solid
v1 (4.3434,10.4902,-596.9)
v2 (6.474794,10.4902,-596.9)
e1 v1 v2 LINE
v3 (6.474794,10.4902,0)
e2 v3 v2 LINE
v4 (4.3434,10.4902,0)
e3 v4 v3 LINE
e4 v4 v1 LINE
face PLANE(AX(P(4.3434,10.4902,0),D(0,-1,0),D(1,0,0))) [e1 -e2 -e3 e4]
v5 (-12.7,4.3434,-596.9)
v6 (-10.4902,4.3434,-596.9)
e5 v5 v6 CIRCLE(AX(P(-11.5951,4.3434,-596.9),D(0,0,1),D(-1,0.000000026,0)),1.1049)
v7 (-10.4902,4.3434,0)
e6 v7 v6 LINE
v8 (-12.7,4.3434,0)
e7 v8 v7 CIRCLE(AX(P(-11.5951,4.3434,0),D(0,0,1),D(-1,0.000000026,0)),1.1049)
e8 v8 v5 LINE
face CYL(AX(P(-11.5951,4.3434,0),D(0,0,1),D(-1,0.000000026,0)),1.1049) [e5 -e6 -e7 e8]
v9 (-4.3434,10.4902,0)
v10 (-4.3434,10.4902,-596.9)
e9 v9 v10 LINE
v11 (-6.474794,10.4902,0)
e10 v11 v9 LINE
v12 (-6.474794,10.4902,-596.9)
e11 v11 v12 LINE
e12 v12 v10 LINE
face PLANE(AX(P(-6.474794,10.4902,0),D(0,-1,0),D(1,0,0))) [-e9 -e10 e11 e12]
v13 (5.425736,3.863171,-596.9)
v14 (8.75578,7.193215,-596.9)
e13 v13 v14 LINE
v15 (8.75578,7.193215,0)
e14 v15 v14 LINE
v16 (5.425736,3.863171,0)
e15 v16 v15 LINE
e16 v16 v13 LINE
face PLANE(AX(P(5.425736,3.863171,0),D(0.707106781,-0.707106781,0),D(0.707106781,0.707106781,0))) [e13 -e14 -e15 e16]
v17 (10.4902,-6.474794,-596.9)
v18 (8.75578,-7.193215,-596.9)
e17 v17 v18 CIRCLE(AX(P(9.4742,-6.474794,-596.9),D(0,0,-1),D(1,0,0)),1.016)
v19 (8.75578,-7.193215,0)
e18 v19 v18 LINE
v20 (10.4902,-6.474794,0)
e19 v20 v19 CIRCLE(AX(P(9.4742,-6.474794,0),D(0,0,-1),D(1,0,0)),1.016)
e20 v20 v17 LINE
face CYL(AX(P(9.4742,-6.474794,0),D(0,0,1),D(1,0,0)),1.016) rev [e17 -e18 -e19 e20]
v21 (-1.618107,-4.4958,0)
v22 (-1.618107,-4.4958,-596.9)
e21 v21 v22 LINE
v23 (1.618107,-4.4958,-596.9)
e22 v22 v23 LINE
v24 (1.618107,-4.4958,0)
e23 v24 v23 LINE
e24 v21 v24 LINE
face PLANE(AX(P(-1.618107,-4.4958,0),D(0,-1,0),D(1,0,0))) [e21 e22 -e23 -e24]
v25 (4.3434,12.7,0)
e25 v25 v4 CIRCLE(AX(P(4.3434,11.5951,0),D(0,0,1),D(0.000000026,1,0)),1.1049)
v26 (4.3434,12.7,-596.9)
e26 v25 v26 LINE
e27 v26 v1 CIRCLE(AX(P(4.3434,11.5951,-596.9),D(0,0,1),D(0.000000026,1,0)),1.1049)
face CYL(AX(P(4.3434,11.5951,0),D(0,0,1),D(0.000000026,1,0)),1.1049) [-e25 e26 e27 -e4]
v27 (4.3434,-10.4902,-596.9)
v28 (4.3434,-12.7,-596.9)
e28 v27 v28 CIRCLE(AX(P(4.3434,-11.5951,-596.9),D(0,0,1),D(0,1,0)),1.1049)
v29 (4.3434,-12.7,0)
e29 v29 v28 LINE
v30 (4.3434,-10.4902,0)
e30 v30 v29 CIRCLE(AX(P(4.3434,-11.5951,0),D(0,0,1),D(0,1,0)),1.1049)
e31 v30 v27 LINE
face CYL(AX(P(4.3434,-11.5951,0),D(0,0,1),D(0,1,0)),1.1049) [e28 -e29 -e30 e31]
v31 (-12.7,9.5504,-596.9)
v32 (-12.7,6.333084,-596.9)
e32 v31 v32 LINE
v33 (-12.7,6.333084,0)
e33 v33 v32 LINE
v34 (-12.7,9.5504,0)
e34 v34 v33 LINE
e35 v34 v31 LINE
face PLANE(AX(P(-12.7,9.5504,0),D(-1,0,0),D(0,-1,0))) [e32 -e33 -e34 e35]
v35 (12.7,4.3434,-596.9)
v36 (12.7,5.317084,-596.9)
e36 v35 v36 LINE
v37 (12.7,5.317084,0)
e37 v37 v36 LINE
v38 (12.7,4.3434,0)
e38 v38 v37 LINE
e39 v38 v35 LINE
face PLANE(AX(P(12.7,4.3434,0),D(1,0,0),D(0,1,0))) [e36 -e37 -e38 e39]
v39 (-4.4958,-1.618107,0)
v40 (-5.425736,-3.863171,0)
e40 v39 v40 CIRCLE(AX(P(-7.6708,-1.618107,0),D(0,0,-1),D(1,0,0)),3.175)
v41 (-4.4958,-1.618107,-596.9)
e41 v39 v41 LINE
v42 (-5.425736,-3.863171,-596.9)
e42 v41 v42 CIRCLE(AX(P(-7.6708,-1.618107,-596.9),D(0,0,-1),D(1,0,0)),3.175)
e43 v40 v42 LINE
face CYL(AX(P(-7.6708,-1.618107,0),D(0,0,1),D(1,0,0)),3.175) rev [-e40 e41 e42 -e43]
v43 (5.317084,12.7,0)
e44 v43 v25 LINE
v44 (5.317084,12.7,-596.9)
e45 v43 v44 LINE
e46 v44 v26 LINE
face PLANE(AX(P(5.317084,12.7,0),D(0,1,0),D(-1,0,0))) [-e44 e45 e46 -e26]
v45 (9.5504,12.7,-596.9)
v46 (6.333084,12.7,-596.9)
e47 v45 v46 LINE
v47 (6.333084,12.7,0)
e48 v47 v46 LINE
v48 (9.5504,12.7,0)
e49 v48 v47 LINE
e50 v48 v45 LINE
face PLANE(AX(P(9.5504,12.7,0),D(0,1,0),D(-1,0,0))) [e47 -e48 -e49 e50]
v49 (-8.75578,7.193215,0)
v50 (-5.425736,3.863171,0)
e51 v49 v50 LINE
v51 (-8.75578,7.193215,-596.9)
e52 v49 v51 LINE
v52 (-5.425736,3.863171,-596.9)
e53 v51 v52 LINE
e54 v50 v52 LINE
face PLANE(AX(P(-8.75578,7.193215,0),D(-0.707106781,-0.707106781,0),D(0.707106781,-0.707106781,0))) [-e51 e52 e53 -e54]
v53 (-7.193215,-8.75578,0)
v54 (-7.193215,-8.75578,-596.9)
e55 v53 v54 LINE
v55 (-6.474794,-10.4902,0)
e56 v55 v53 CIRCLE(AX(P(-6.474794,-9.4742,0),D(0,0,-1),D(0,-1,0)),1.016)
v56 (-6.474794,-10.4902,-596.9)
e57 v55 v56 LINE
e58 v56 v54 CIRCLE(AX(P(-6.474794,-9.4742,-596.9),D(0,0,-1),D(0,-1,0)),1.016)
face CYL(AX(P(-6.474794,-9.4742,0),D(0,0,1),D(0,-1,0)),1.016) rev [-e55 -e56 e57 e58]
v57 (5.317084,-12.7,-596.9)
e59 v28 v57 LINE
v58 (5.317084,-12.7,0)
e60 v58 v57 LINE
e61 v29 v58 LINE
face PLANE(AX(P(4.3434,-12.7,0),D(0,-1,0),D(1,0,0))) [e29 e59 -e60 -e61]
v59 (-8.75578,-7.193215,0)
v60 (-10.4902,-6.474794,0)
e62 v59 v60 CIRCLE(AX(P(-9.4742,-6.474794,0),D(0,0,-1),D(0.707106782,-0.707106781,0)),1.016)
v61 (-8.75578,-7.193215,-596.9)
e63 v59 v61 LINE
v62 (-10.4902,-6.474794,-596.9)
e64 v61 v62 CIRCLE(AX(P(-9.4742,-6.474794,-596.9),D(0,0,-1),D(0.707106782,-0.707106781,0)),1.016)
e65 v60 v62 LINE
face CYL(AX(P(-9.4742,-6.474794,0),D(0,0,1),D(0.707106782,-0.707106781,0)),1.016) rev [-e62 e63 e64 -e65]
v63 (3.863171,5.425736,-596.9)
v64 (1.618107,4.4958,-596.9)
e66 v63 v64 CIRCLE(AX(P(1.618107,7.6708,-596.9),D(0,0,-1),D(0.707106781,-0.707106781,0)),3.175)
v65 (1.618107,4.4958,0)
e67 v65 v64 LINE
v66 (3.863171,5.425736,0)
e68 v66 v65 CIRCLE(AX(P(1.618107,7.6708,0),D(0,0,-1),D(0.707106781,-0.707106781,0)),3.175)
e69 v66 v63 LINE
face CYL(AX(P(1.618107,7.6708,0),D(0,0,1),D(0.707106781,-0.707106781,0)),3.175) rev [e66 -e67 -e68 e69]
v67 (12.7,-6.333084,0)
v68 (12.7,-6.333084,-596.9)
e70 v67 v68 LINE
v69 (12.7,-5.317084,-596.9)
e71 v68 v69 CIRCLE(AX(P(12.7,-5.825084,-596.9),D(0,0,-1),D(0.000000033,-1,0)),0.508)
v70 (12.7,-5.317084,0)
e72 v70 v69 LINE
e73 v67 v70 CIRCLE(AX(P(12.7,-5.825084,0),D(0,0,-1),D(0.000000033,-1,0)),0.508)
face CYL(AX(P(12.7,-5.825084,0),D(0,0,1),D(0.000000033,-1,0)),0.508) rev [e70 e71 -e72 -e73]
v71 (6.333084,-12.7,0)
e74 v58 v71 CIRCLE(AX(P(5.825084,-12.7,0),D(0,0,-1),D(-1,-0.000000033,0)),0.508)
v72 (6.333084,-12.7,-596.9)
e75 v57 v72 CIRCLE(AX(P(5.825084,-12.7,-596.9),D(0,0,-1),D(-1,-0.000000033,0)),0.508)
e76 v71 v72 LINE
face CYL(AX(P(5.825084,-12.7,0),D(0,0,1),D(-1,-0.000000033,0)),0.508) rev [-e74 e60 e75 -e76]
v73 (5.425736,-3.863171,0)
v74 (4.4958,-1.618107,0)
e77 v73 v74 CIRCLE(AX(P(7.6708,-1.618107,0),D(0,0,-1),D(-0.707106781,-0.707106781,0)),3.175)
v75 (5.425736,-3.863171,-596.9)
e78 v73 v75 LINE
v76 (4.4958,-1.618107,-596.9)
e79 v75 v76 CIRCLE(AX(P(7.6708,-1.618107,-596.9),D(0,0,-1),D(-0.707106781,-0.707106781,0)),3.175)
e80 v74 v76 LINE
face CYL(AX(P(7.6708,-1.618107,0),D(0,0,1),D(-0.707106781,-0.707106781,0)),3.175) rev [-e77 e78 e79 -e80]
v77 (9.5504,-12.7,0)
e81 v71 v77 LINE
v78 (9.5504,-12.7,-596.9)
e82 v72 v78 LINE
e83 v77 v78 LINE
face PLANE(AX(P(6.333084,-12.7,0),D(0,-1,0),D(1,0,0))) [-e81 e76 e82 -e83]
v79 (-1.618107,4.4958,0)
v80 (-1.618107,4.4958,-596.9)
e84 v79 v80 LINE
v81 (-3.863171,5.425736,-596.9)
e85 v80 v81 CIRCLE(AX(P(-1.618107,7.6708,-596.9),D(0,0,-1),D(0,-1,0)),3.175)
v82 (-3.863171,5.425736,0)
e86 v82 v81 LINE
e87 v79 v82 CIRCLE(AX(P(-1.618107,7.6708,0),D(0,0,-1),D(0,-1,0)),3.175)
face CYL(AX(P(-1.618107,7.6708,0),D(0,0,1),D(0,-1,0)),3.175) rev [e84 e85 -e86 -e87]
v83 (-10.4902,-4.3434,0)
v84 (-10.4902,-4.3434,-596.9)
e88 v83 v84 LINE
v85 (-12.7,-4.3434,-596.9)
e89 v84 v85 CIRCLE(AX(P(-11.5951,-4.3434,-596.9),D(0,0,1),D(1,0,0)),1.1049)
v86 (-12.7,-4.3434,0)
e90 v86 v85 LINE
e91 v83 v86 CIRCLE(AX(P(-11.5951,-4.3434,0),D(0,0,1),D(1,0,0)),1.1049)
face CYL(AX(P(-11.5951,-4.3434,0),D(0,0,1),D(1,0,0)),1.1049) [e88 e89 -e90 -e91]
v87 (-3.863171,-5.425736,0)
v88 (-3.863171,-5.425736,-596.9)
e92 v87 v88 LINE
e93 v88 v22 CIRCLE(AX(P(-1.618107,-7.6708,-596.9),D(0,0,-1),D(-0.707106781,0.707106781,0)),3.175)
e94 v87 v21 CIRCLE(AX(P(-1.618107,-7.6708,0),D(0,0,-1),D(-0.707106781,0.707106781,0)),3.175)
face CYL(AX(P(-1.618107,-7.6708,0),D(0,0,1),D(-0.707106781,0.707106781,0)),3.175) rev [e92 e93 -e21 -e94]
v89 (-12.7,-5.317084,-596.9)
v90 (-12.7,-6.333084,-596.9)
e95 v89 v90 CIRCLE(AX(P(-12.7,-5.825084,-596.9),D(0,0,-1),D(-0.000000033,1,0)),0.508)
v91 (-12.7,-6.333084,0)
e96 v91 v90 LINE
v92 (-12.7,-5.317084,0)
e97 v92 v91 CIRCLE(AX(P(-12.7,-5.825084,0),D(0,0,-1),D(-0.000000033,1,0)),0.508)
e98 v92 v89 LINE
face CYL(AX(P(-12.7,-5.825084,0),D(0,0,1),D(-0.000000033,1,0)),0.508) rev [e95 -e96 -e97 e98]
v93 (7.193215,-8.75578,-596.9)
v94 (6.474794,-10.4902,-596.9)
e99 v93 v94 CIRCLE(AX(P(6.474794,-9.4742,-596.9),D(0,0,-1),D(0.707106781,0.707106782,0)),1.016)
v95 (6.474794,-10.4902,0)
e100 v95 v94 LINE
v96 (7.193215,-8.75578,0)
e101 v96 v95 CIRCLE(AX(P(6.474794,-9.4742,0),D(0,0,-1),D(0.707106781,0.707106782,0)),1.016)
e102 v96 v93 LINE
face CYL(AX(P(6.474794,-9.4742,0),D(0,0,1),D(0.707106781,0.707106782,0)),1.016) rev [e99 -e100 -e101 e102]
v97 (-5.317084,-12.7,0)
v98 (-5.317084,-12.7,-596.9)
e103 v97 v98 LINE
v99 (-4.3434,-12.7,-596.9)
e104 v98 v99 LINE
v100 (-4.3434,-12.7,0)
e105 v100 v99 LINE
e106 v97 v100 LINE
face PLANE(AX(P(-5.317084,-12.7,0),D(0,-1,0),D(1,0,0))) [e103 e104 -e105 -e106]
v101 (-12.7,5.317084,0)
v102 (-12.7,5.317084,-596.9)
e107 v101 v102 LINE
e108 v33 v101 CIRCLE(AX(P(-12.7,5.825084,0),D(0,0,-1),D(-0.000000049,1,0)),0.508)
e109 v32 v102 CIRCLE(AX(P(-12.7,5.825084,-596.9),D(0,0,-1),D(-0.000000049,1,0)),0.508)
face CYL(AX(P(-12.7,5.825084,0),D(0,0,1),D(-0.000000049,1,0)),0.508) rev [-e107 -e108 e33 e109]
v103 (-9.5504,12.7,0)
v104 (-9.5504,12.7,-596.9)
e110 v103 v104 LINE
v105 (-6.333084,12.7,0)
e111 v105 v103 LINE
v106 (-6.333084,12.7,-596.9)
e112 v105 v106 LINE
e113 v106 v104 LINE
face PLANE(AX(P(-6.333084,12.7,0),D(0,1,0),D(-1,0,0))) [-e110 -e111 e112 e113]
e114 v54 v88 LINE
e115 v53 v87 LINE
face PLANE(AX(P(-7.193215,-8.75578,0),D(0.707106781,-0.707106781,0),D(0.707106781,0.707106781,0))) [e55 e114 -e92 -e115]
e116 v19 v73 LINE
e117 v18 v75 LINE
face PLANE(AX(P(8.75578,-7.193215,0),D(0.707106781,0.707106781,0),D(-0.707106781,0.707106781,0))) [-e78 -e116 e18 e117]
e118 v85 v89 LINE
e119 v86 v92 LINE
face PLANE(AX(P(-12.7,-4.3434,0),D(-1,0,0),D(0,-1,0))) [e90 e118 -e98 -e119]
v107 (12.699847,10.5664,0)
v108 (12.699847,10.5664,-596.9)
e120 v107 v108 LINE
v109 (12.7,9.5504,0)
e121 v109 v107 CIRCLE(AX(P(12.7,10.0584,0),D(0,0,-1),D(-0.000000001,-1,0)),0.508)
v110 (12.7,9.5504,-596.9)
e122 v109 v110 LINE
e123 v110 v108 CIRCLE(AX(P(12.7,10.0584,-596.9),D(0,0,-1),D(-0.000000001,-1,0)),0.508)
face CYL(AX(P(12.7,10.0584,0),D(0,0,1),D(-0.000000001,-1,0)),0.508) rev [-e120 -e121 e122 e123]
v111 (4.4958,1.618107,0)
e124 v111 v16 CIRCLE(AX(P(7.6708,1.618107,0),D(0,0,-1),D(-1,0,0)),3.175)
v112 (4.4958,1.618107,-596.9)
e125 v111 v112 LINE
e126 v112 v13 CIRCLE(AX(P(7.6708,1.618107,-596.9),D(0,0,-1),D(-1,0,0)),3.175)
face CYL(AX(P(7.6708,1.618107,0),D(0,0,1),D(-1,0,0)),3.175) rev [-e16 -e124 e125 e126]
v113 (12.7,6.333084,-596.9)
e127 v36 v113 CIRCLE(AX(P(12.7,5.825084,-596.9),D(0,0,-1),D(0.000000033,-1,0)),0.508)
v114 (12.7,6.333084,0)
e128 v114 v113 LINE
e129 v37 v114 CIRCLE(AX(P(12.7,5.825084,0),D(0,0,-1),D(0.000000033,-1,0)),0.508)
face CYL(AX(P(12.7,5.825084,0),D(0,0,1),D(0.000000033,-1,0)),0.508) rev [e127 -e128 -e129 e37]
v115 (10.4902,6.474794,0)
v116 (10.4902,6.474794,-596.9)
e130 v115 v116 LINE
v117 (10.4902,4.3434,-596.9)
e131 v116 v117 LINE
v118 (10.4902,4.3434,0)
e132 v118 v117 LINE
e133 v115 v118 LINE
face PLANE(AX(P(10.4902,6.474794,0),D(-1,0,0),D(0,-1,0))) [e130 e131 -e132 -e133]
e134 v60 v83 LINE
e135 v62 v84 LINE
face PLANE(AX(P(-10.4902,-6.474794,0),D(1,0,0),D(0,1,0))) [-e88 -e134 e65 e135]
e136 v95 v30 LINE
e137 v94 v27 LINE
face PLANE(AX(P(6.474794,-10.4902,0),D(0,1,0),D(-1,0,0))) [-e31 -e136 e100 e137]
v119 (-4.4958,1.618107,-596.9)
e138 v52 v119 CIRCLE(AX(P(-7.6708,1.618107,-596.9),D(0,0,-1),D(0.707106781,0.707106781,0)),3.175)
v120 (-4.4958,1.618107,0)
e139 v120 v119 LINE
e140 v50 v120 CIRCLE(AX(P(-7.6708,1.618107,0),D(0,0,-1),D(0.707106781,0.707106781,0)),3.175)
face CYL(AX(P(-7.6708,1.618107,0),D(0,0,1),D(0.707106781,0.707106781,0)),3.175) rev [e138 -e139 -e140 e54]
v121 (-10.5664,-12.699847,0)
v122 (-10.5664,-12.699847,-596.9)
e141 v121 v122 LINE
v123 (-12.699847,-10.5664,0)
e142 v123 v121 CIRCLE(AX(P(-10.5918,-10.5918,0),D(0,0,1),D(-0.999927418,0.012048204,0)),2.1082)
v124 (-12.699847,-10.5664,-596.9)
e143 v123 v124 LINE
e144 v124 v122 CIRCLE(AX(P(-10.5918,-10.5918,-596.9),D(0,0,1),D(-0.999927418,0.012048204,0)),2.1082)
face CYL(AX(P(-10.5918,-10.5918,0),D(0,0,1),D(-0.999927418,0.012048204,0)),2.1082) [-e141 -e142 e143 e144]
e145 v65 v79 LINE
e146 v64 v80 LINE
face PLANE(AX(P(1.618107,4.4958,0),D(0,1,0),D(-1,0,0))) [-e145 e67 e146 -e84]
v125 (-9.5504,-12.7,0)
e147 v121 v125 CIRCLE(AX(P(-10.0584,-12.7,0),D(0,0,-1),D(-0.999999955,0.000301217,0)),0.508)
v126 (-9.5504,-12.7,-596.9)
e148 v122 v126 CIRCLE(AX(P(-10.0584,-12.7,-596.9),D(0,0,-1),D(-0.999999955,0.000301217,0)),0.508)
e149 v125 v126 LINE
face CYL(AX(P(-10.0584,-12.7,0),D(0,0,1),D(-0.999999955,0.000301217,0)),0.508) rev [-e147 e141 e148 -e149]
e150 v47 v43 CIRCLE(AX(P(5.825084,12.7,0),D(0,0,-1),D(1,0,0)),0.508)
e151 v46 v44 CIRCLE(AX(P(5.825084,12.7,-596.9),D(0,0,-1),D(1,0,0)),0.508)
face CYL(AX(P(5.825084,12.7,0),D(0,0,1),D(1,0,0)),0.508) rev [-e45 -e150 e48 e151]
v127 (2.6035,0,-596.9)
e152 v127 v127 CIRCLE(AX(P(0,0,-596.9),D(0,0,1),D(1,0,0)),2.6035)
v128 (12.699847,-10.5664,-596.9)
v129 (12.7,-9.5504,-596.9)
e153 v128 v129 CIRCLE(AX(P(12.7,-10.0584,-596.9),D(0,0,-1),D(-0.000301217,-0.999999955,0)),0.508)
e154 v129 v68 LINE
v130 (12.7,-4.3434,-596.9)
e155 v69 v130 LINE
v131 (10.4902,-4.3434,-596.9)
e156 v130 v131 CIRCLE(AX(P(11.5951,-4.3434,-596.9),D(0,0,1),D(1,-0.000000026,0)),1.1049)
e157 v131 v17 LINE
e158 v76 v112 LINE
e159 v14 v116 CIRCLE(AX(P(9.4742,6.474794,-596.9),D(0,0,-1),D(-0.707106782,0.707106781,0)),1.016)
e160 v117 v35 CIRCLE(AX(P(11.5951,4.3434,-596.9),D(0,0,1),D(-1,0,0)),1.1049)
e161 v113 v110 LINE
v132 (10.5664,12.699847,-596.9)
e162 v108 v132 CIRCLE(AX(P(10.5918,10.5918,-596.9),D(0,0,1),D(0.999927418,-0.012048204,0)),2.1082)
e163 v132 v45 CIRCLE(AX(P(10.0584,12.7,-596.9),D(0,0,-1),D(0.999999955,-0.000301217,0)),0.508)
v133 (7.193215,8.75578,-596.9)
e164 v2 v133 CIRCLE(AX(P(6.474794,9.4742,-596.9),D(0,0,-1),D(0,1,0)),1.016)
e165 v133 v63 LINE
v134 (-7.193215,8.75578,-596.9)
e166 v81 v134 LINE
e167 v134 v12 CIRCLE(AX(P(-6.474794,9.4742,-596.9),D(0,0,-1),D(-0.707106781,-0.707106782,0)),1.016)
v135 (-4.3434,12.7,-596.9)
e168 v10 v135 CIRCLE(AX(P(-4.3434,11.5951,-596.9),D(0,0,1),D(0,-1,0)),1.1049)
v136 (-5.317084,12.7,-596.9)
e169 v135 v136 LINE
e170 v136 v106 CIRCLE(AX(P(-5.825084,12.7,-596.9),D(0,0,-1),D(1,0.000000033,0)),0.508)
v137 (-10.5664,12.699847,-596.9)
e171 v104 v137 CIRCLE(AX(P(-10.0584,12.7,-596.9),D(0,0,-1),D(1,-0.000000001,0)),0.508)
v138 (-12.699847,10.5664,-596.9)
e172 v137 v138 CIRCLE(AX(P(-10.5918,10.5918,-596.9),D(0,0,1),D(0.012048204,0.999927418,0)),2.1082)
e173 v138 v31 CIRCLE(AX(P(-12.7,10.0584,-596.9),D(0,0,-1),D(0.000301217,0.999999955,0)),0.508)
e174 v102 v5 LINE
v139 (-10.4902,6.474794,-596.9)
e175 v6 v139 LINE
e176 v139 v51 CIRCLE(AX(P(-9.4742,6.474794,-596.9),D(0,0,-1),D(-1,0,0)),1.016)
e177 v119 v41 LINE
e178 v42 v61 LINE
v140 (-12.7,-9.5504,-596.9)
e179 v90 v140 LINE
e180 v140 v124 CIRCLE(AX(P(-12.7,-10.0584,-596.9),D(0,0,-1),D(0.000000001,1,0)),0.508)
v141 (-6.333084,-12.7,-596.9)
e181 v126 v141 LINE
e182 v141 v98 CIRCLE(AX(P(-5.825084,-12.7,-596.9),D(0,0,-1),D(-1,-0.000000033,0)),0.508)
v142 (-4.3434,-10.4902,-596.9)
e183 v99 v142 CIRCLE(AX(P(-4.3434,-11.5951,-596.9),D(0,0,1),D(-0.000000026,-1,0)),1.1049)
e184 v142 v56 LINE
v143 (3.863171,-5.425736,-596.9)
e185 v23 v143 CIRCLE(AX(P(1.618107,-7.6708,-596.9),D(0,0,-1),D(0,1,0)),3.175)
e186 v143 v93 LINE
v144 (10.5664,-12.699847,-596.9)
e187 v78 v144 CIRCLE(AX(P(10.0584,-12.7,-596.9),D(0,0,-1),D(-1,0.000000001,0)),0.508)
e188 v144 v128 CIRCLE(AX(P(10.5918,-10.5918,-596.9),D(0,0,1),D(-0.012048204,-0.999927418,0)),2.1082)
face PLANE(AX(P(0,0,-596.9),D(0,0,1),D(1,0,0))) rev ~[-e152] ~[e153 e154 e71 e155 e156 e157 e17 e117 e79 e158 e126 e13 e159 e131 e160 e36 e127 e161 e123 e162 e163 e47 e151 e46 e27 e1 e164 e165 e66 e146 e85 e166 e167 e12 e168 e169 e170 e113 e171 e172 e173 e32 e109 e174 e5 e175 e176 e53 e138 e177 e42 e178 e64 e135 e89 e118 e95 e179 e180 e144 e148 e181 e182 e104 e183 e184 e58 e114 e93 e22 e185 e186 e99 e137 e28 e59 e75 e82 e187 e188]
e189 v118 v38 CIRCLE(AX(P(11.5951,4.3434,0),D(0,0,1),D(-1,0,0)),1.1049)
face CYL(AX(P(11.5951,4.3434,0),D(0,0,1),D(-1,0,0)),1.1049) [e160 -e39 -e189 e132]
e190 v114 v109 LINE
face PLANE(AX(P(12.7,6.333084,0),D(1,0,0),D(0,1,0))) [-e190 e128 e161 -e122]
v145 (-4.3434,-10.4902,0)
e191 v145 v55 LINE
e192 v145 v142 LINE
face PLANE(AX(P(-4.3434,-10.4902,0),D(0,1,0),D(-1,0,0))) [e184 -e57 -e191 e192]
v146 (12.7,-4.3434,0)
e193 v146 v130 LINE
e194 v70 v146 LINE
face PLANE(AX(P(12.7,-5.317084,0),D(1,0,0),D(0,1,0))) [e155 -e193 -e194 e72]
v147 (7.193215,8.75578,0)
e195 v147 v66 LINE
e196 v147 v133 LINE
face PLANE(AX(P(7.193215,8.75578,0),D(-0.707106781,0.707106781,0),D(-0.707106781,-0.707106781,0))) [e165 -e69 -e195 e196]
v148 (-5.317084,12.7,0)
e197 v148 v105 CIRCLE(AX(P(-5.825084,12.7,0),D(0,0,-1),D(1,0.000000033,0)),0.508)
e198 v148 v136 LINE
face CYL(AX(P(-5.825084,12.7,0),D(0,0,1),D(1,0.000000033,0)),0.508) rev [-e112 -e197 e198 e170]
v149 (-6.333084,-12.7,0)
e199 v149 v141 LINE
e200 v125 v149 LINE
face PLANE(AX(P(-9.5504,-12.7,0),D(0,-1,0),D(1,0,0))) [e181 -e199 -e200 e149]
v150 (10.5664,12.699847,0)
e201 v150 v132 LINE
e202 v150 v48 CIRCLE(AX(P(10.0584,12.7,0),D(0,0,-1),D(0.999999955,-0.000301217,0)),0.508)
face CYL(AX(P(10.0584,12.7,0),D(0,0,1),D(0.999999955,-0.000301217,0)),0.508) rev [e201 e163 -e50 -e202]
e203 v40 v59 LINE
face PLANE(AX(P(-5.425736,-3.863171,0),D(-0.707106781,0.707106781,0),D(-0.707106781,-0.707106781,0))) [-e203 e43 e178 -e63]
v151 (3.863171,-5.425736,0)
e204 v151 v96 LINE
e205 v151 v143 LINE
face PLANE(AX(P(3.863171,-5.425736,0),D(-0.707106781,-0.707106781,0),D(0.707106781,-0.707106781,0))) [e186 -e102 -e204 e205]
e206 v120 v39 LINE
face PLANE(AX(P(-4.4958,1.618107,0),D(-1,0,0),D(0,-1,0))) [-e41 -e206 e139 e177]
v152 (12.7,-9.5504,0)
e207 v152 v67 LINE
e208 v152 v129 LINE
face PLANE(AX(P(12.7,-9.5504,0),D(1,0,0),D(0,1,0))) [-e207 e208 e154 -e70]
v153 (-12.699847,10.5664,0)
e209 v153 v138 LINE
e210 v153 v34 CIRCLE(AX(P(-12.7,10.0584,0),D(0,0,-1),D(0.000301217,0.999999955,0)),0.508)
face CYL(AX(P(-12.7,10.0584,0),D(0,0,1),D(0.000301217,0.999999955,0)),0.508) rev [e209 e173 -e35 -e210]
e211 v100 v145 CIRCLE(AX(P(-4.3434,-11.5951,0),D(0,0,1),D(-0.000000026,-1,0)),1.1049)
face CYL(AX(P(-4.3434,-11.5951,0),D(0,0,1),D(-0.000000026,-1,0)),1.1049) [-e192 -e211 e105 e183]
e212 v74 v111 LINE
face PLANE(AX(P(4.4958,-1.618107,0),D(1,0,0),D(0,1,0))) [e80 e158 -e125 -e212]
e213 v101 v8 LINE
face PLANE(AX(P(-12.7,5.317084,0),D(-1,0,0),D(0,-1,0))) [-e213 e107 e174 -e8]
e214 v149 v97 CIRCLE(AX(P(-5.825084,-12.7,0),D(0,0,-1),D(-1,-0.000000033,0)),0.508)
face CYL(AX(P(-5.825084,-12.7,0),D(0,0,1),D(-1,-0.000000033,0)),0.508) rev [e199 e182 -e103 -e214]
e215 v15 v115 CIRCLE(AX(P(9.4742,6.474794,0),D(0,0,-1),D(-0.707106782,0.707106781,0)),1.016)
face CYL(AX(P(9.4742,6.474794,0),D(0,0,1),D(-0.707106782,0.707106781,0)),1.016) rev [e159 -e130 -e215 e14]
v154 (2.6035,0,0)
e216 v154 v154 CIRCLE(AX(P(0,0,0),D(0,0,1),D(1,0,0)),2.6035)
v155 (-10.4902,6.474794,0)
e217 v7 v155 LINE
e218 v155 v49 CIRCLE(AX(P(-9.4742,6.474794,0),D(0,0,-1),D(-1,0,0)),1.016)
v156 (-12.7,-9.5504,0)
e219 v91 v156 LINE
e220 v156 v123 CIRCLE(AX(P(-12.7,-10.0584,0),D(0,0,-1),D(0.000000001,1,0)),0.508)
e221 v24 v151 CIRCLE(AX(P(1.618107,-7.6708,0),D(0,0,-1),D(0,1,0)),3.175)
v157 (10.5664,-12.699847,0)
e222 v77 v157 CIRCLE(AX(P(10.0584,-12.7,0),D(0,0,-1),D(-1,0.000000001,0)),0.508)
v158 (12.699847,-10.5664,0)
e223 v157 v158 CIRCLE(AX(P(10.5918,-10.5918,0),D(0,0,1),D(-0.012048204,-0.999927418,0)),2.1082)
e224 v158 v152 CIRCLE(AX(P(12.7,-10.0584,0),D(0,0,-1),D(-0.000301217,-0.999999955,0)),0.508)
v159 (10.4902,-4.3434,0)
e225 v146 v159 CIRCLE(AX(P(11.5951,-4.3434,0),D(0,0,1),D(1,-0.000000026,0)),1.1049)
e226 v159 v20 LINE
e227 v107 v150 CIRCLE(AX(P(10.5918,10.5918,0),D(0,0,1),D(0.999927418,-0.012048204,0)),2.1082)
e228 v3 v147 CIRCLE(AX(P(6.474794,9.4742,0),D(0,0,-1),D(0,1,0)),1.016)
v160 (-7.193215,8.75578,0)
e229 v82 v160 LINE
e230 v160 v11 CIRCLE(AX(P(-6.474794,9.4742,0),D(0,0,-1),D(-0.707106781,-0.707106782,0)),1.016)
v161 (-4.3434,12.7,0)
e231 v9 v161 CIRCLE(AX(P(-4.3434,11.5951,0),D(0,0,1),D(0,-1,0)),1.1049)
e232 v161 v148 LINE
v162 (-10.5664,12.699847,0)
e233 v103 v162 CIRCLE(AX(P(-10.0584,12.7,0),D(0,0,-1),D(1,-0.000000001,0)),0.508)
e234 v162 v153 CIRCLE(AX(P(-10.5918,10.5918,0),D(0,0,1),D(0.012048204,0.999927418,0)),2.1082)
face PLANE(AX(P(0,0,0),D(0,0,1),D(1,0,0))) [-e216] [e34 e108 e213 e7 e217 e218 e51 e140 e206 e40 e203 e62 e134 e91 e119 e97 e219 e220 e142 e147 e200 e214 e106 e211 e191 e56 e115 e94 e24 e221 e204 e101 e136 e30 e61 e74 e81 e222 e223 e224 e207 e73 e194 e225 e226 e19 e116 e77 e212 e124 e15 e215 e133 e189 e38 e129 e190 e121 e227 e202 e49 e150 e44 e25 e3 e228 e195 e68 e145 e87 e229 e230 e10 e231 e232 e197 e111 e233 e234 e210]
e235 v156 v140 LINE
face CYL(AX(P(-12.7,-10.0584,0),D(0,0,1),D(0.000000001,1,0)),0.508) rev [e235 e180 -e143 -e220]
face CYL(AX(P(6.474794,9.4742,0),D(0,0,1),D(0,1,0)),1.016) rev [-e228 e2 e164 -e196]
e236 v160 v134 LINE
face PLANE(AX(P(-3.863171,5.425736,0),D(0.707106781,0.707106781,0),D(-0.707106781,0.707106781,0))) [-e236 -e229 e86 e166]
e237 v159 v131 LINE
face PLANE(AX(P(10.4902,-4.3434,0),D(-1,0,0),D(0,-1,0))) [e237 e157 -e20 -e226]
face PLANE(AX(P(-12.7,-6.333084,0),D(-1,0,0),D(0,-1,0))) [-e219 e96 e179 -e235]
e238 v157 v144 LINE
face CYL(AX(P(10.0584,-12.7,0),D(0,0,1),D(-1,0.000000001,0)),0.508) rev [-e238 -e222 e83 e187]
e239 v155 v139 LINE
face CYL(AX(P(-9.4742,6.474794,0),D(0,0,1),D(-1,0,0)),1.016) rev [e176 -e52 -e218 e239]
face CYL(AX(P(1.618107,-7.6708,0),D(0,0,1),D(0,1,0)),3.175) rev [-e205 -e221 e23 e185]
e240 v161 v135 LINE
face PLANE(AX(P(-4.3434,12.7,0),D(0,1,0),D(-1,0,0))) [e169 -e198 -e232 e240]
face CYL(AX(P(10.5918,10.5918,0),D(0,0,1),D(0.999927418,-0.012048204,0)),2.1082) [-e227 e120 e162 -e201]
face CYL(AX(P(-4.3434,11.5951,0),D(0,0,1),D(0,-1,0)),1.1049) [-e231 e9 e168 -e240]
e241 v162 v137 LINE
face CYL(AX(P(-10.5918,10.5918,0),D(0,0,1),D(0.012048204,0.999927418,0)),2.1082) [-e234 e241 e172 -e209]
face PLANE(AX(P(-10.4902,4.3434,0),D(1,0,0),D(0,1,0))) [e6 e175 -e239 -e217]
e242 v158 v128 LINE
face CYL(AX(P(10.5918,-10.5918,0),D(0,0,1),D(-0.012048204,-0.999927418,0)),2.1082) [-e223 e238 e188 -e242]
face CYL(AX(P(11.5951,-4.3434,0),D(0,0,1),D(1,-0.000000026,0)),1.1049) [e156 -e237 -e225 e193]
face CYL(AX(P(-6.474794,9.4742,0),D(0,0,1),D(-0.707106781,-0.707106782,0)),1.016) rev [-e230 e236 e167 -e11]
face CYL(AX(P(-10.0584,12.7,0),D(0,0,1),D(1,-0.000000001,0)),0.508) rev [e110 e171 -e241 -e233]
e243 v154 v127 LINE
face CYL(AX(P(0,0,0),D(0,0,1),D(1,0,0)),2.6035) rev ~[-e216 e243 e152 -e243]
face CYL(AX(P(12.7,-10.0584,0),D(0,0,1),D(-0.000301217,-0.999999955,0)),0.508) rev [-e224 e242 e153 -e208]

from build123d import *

# Parameters (mm, degrees)
SKETCH1_R           = 2.6035
BOSS_EXTRUDE1_DEPTH = 596.9


with BuildPart() as part:
    # Sketch1 → Boss-Extrude1 (new body)
    with BuildSketch(Plane.XY):
        with BuildLine():
            Line((-12.7, 9.5504), (-12.7, 6.3330836))
            ThreePointArc((-12.7, 6.3330836), (-12.191999975, 5.8250836), (-12.7, 5.3170836))
            Line((-12.7, 5.3170836), (-12.7, 4.3434))
            ThreePointArc((-12.7, 4.3434), (-11.5951, 3.238499971), (-10.4902, 4.3434))
            Line((-10.4902, 4.3434), (-10.4902, 6.474794456))
            ThreePointArc((-10.4902, 6.474794456), (-9.863006367, 7.413456061), (-8.75577951, 7.193214945))
            Line((-8.75577951, 7.193214945), (-5.42573597, 3.863171405))
            ThreePointArc((-5.42573597, 3.863171405), (-4.737482484, 2.833127272), (-4.4958, 1.618107374))
            Line((-4.4958, 1.618107374), (-4.4958, -1.618107374))
            ThreePointArc((-4.4958, -1.618107374), (-4.737482484, -2.833127272), (-5.42573597, -3.863171405))
            Line((-5.42573597, -3.863171405), (-8.75577951, -7.193214945))
            ThreePointArc((-8.75577951, -7.193214945), (-9.863006367, -7.413456061), (-10.4902, -6.474794456))
            Line((-10.4902, -6.474794456), (-10.4902, -4.3434))
            ThreePointArc((-10.4902, -4.3434), (-11.5951, -3.2385), (-12.7, -4.3434))
            Line((-12.7, -4.3434), (-12.7, -5.3170836))
            ThreePointArc((-12.7, -5.3170836), (-12.191999983, -5.8250836), (-12.7, -6.3330836))
            Line((-12.7, -6.3330836), (-12.7, -9.5504))
            ThreePointArc((-12.7, -9.5504), (-12.192000006, -10.058323491), (-12.699846982, -10.566399977))
            ThreePointArc((-12.699846982, -10.566399977), (-12.082522516, -12.082522516), (-10.566399977, -12.699846982))
            ThreePointArc((-10.566399977, -12.699846982), (-10.058323491, -12.192000006), (-9.5504, -12.7))
            Line((-9.5504, -12.7), (-6.3330836, -12.7))
            ThreePointArc((-6.3330836, -12.7), (-5.8250836, -12.191999983), (-5.3170836, -12.7))
            Line((-5.3170836, -12.7), (-4.3434, -12.7))
            ThreePointArc((-4.3434, -12.7), (-3.238499971, -11.5951), (-4.3434, -10.4902))
            Line((-4.3434, -10.4902), (-6.474794456, -10.4902))
            ThreePointArc((-6.474794456, -10.4902), (-7.413456061, -9.863006367), (-7.193214945, -8.75577951))
            Line((-7.193214945, -8.75577951), (-3.863171405, -5.42573597))
            ThreePointArc((-3.863171405, -5.42573597), (-2.833127272, -4.737482484), (-1.618107374, -4.4958))
            Line((-1.618107374, -4.4958), (1.618107374, -4.4958))
            ThreePointArc((1.618107374, -4.4958), (2.833127272, -4.737482484), (3.863171405, -5.42573597))
            Line((3.863171405, -5.42573597), (7.193214945, -8.75577951))
            ThreePointArc((7.193214945, -8.75577951), (7.413456061, -9.863006367), (6.474794456, -10.4902))
            Line((6.474794456, -10.4902), (4.3434, -10.4902))
            ThreePointArc((4.3434, -10.4902), (3.2385, -11.5951), (4.3434, -12.7))
            Line((4.3434, -12.7), (5.3170836, -12.7))
            ThreePointArc((5.3170836, -12.7), (5.8250836, -12.191999983), (6.3330836, -12.7))
            Line((6.3330836, -12.7), (9.5504, -12.7))
            ThreePointArc((9.5504, -12.7), (10.058323491, -12.192000006), (10.566399977, -12.699846982))
            ThreePointArc((10.566399977, -12.699846982), (12.082522516, -12.082522516), (12.699846982, -10.566399977))
            ThreePointArc((12.699846982, -10.566399977), (12.192000006, -10.058323491), (12.7, -9.5504))
            Line((12.7, -9.5504), (12.7, -6.3330836))
            ThreePointArc((12.7, -6.3330836), (12.191999983, -5.8250836), (12.7, -5.3170836))
            Line((12.7, -5.3170836), (12.7, -4.3434))
            ThreePointArc((12.7, -4.3434), (11.5951, -3.238499971), (10.4902, -4.3434))
            Line((10.4902, -4.3434), (10.4902, -6.474794456))
            ThreePointArc((10.4902, -6.474794456), (9.863006367, -7.413456061), (8.75577951, -7.193214945))
            Line((8.75577951, -7.193214945), (5.42573597, -3.863171405))
            ThreePointArc((5.42573597, -3.863171405), (4.737482484, -2.833127272), (4.4958, -1.618107374))
            Line((4.4958, -1.618107374), (4.4958, 1.618107374))
            ThreePointArc((4.4958, 1.618107374), (4.737482484, 2.833127272), (5.42573597, 3.863171405))
            Line((5.42573597, 3.863171405), (8.75577951, 7.193214945))
            ThreePointArc((8.75577951, 7.193214945), (9.863006367, 7.413456061), (10.4902, 6.474794456))
            Line((10.4902, 6.474794456), (10.4902, 4.3434))
            ThreePointArc((10.4902, 4.3434), (11.5951, 3.2385), (12.7, 4.3434))
            Line((12.7, 4.3434), (12.7, 5.3170836))
            ThreePointArc((12.7, 5.3170836), (12.191999983, 5.8250836), (12.7, 6.3330836))
            Line((12.7, 6.3330836), (12.7, 9.5504))
            ThreePointArc((12.7, 9.5504), (12.192000006, 10.058323491), (12.699846982, 10.566399977))
            ThreePointArc((12.699846982, 10.566399977), (12.082522516, 12.082522516), (10.566399977, 12.699846982))
            ThreePointArc((10.566399977, 12.699846982), (10.058323491, 12.192000006), (9.5504, 12.7))
            Line((9.5504, 12.7), (6.3330836, 12.7))
            ThreePointArc((6.3330836, 12.7), (5.8250836, 12.192), (5.3170836, 12.7))
            Line((5.3170836, 12.7), (4.3434, 12.7))
            ThreePointArc((4.3434, 12.7), (3.238499971, 11.5951), (4.3434, 10.4902))
            Line((4.3434, 10.4902), (6.474794456, 10.4902))
            ThreePointArc((6.474794456, 10.4902), (7.413456061, 9.863006367), (7.193214945, 8.75577951))
            Line((7.193214945, 8.75577951), (3.863171405, 5.42573597))
            ThreePointArc((3.863171405, 5.42573597), (2.833127272, 4.737482484), (1.618107374, 4.4958))
            Line((1.618107374, 4.4958), (-1.618107374, 4.4958))
            ThreePointArc((-1.618107374, 4.4958), (-2.833127272, 4.737482484), (-3.863171405, 5.42573597))
            Line((-3.863171405, 5.42573597), (-7.193214945, 8.75577951))
            ThreePointArc((-7.193214945, 8.75577951), (-7.413456061, 9.863006367), (-6.474794456, 10.4902))
            Line((-6.474794456, 10.4902), (-4.3434, 10.4902))
            ThreePointArc((-4.3434, 10.4902), (-3.2385, 11.5951), (-4.3434, 12.7))
            Line((-4.3434, 12.7), (-5.3170836, 12.7))
            ThreePointArc((-5.3170836, 12.7), (-5.8250836, 12.191999983), (-6.3330836, 12.7))
            Line((-6.3330836, 12.7), (-9.5504, 12.7))
            ThreePointArc((-9.5504, 12.7), (-10.058323491, 12.192000006), (-10.566399977, 12.699846982))
            ThreePointArc((-10.566399977, 12.699846982), (-12.082522516, 12.082522516), (-12.699846982, 10.566399977))
            ThreePointArc((-12.699846982, 10.566399977), (-12.192000006, 10.058323491), (-12.7, 9.5504))
        make_face()
        Circle(SKETCH1_R, mode=Mode.SUBTRACT)
    extrude(amount=-BOSS_EXTRUDE1_DEPTH)


solid = part.part
